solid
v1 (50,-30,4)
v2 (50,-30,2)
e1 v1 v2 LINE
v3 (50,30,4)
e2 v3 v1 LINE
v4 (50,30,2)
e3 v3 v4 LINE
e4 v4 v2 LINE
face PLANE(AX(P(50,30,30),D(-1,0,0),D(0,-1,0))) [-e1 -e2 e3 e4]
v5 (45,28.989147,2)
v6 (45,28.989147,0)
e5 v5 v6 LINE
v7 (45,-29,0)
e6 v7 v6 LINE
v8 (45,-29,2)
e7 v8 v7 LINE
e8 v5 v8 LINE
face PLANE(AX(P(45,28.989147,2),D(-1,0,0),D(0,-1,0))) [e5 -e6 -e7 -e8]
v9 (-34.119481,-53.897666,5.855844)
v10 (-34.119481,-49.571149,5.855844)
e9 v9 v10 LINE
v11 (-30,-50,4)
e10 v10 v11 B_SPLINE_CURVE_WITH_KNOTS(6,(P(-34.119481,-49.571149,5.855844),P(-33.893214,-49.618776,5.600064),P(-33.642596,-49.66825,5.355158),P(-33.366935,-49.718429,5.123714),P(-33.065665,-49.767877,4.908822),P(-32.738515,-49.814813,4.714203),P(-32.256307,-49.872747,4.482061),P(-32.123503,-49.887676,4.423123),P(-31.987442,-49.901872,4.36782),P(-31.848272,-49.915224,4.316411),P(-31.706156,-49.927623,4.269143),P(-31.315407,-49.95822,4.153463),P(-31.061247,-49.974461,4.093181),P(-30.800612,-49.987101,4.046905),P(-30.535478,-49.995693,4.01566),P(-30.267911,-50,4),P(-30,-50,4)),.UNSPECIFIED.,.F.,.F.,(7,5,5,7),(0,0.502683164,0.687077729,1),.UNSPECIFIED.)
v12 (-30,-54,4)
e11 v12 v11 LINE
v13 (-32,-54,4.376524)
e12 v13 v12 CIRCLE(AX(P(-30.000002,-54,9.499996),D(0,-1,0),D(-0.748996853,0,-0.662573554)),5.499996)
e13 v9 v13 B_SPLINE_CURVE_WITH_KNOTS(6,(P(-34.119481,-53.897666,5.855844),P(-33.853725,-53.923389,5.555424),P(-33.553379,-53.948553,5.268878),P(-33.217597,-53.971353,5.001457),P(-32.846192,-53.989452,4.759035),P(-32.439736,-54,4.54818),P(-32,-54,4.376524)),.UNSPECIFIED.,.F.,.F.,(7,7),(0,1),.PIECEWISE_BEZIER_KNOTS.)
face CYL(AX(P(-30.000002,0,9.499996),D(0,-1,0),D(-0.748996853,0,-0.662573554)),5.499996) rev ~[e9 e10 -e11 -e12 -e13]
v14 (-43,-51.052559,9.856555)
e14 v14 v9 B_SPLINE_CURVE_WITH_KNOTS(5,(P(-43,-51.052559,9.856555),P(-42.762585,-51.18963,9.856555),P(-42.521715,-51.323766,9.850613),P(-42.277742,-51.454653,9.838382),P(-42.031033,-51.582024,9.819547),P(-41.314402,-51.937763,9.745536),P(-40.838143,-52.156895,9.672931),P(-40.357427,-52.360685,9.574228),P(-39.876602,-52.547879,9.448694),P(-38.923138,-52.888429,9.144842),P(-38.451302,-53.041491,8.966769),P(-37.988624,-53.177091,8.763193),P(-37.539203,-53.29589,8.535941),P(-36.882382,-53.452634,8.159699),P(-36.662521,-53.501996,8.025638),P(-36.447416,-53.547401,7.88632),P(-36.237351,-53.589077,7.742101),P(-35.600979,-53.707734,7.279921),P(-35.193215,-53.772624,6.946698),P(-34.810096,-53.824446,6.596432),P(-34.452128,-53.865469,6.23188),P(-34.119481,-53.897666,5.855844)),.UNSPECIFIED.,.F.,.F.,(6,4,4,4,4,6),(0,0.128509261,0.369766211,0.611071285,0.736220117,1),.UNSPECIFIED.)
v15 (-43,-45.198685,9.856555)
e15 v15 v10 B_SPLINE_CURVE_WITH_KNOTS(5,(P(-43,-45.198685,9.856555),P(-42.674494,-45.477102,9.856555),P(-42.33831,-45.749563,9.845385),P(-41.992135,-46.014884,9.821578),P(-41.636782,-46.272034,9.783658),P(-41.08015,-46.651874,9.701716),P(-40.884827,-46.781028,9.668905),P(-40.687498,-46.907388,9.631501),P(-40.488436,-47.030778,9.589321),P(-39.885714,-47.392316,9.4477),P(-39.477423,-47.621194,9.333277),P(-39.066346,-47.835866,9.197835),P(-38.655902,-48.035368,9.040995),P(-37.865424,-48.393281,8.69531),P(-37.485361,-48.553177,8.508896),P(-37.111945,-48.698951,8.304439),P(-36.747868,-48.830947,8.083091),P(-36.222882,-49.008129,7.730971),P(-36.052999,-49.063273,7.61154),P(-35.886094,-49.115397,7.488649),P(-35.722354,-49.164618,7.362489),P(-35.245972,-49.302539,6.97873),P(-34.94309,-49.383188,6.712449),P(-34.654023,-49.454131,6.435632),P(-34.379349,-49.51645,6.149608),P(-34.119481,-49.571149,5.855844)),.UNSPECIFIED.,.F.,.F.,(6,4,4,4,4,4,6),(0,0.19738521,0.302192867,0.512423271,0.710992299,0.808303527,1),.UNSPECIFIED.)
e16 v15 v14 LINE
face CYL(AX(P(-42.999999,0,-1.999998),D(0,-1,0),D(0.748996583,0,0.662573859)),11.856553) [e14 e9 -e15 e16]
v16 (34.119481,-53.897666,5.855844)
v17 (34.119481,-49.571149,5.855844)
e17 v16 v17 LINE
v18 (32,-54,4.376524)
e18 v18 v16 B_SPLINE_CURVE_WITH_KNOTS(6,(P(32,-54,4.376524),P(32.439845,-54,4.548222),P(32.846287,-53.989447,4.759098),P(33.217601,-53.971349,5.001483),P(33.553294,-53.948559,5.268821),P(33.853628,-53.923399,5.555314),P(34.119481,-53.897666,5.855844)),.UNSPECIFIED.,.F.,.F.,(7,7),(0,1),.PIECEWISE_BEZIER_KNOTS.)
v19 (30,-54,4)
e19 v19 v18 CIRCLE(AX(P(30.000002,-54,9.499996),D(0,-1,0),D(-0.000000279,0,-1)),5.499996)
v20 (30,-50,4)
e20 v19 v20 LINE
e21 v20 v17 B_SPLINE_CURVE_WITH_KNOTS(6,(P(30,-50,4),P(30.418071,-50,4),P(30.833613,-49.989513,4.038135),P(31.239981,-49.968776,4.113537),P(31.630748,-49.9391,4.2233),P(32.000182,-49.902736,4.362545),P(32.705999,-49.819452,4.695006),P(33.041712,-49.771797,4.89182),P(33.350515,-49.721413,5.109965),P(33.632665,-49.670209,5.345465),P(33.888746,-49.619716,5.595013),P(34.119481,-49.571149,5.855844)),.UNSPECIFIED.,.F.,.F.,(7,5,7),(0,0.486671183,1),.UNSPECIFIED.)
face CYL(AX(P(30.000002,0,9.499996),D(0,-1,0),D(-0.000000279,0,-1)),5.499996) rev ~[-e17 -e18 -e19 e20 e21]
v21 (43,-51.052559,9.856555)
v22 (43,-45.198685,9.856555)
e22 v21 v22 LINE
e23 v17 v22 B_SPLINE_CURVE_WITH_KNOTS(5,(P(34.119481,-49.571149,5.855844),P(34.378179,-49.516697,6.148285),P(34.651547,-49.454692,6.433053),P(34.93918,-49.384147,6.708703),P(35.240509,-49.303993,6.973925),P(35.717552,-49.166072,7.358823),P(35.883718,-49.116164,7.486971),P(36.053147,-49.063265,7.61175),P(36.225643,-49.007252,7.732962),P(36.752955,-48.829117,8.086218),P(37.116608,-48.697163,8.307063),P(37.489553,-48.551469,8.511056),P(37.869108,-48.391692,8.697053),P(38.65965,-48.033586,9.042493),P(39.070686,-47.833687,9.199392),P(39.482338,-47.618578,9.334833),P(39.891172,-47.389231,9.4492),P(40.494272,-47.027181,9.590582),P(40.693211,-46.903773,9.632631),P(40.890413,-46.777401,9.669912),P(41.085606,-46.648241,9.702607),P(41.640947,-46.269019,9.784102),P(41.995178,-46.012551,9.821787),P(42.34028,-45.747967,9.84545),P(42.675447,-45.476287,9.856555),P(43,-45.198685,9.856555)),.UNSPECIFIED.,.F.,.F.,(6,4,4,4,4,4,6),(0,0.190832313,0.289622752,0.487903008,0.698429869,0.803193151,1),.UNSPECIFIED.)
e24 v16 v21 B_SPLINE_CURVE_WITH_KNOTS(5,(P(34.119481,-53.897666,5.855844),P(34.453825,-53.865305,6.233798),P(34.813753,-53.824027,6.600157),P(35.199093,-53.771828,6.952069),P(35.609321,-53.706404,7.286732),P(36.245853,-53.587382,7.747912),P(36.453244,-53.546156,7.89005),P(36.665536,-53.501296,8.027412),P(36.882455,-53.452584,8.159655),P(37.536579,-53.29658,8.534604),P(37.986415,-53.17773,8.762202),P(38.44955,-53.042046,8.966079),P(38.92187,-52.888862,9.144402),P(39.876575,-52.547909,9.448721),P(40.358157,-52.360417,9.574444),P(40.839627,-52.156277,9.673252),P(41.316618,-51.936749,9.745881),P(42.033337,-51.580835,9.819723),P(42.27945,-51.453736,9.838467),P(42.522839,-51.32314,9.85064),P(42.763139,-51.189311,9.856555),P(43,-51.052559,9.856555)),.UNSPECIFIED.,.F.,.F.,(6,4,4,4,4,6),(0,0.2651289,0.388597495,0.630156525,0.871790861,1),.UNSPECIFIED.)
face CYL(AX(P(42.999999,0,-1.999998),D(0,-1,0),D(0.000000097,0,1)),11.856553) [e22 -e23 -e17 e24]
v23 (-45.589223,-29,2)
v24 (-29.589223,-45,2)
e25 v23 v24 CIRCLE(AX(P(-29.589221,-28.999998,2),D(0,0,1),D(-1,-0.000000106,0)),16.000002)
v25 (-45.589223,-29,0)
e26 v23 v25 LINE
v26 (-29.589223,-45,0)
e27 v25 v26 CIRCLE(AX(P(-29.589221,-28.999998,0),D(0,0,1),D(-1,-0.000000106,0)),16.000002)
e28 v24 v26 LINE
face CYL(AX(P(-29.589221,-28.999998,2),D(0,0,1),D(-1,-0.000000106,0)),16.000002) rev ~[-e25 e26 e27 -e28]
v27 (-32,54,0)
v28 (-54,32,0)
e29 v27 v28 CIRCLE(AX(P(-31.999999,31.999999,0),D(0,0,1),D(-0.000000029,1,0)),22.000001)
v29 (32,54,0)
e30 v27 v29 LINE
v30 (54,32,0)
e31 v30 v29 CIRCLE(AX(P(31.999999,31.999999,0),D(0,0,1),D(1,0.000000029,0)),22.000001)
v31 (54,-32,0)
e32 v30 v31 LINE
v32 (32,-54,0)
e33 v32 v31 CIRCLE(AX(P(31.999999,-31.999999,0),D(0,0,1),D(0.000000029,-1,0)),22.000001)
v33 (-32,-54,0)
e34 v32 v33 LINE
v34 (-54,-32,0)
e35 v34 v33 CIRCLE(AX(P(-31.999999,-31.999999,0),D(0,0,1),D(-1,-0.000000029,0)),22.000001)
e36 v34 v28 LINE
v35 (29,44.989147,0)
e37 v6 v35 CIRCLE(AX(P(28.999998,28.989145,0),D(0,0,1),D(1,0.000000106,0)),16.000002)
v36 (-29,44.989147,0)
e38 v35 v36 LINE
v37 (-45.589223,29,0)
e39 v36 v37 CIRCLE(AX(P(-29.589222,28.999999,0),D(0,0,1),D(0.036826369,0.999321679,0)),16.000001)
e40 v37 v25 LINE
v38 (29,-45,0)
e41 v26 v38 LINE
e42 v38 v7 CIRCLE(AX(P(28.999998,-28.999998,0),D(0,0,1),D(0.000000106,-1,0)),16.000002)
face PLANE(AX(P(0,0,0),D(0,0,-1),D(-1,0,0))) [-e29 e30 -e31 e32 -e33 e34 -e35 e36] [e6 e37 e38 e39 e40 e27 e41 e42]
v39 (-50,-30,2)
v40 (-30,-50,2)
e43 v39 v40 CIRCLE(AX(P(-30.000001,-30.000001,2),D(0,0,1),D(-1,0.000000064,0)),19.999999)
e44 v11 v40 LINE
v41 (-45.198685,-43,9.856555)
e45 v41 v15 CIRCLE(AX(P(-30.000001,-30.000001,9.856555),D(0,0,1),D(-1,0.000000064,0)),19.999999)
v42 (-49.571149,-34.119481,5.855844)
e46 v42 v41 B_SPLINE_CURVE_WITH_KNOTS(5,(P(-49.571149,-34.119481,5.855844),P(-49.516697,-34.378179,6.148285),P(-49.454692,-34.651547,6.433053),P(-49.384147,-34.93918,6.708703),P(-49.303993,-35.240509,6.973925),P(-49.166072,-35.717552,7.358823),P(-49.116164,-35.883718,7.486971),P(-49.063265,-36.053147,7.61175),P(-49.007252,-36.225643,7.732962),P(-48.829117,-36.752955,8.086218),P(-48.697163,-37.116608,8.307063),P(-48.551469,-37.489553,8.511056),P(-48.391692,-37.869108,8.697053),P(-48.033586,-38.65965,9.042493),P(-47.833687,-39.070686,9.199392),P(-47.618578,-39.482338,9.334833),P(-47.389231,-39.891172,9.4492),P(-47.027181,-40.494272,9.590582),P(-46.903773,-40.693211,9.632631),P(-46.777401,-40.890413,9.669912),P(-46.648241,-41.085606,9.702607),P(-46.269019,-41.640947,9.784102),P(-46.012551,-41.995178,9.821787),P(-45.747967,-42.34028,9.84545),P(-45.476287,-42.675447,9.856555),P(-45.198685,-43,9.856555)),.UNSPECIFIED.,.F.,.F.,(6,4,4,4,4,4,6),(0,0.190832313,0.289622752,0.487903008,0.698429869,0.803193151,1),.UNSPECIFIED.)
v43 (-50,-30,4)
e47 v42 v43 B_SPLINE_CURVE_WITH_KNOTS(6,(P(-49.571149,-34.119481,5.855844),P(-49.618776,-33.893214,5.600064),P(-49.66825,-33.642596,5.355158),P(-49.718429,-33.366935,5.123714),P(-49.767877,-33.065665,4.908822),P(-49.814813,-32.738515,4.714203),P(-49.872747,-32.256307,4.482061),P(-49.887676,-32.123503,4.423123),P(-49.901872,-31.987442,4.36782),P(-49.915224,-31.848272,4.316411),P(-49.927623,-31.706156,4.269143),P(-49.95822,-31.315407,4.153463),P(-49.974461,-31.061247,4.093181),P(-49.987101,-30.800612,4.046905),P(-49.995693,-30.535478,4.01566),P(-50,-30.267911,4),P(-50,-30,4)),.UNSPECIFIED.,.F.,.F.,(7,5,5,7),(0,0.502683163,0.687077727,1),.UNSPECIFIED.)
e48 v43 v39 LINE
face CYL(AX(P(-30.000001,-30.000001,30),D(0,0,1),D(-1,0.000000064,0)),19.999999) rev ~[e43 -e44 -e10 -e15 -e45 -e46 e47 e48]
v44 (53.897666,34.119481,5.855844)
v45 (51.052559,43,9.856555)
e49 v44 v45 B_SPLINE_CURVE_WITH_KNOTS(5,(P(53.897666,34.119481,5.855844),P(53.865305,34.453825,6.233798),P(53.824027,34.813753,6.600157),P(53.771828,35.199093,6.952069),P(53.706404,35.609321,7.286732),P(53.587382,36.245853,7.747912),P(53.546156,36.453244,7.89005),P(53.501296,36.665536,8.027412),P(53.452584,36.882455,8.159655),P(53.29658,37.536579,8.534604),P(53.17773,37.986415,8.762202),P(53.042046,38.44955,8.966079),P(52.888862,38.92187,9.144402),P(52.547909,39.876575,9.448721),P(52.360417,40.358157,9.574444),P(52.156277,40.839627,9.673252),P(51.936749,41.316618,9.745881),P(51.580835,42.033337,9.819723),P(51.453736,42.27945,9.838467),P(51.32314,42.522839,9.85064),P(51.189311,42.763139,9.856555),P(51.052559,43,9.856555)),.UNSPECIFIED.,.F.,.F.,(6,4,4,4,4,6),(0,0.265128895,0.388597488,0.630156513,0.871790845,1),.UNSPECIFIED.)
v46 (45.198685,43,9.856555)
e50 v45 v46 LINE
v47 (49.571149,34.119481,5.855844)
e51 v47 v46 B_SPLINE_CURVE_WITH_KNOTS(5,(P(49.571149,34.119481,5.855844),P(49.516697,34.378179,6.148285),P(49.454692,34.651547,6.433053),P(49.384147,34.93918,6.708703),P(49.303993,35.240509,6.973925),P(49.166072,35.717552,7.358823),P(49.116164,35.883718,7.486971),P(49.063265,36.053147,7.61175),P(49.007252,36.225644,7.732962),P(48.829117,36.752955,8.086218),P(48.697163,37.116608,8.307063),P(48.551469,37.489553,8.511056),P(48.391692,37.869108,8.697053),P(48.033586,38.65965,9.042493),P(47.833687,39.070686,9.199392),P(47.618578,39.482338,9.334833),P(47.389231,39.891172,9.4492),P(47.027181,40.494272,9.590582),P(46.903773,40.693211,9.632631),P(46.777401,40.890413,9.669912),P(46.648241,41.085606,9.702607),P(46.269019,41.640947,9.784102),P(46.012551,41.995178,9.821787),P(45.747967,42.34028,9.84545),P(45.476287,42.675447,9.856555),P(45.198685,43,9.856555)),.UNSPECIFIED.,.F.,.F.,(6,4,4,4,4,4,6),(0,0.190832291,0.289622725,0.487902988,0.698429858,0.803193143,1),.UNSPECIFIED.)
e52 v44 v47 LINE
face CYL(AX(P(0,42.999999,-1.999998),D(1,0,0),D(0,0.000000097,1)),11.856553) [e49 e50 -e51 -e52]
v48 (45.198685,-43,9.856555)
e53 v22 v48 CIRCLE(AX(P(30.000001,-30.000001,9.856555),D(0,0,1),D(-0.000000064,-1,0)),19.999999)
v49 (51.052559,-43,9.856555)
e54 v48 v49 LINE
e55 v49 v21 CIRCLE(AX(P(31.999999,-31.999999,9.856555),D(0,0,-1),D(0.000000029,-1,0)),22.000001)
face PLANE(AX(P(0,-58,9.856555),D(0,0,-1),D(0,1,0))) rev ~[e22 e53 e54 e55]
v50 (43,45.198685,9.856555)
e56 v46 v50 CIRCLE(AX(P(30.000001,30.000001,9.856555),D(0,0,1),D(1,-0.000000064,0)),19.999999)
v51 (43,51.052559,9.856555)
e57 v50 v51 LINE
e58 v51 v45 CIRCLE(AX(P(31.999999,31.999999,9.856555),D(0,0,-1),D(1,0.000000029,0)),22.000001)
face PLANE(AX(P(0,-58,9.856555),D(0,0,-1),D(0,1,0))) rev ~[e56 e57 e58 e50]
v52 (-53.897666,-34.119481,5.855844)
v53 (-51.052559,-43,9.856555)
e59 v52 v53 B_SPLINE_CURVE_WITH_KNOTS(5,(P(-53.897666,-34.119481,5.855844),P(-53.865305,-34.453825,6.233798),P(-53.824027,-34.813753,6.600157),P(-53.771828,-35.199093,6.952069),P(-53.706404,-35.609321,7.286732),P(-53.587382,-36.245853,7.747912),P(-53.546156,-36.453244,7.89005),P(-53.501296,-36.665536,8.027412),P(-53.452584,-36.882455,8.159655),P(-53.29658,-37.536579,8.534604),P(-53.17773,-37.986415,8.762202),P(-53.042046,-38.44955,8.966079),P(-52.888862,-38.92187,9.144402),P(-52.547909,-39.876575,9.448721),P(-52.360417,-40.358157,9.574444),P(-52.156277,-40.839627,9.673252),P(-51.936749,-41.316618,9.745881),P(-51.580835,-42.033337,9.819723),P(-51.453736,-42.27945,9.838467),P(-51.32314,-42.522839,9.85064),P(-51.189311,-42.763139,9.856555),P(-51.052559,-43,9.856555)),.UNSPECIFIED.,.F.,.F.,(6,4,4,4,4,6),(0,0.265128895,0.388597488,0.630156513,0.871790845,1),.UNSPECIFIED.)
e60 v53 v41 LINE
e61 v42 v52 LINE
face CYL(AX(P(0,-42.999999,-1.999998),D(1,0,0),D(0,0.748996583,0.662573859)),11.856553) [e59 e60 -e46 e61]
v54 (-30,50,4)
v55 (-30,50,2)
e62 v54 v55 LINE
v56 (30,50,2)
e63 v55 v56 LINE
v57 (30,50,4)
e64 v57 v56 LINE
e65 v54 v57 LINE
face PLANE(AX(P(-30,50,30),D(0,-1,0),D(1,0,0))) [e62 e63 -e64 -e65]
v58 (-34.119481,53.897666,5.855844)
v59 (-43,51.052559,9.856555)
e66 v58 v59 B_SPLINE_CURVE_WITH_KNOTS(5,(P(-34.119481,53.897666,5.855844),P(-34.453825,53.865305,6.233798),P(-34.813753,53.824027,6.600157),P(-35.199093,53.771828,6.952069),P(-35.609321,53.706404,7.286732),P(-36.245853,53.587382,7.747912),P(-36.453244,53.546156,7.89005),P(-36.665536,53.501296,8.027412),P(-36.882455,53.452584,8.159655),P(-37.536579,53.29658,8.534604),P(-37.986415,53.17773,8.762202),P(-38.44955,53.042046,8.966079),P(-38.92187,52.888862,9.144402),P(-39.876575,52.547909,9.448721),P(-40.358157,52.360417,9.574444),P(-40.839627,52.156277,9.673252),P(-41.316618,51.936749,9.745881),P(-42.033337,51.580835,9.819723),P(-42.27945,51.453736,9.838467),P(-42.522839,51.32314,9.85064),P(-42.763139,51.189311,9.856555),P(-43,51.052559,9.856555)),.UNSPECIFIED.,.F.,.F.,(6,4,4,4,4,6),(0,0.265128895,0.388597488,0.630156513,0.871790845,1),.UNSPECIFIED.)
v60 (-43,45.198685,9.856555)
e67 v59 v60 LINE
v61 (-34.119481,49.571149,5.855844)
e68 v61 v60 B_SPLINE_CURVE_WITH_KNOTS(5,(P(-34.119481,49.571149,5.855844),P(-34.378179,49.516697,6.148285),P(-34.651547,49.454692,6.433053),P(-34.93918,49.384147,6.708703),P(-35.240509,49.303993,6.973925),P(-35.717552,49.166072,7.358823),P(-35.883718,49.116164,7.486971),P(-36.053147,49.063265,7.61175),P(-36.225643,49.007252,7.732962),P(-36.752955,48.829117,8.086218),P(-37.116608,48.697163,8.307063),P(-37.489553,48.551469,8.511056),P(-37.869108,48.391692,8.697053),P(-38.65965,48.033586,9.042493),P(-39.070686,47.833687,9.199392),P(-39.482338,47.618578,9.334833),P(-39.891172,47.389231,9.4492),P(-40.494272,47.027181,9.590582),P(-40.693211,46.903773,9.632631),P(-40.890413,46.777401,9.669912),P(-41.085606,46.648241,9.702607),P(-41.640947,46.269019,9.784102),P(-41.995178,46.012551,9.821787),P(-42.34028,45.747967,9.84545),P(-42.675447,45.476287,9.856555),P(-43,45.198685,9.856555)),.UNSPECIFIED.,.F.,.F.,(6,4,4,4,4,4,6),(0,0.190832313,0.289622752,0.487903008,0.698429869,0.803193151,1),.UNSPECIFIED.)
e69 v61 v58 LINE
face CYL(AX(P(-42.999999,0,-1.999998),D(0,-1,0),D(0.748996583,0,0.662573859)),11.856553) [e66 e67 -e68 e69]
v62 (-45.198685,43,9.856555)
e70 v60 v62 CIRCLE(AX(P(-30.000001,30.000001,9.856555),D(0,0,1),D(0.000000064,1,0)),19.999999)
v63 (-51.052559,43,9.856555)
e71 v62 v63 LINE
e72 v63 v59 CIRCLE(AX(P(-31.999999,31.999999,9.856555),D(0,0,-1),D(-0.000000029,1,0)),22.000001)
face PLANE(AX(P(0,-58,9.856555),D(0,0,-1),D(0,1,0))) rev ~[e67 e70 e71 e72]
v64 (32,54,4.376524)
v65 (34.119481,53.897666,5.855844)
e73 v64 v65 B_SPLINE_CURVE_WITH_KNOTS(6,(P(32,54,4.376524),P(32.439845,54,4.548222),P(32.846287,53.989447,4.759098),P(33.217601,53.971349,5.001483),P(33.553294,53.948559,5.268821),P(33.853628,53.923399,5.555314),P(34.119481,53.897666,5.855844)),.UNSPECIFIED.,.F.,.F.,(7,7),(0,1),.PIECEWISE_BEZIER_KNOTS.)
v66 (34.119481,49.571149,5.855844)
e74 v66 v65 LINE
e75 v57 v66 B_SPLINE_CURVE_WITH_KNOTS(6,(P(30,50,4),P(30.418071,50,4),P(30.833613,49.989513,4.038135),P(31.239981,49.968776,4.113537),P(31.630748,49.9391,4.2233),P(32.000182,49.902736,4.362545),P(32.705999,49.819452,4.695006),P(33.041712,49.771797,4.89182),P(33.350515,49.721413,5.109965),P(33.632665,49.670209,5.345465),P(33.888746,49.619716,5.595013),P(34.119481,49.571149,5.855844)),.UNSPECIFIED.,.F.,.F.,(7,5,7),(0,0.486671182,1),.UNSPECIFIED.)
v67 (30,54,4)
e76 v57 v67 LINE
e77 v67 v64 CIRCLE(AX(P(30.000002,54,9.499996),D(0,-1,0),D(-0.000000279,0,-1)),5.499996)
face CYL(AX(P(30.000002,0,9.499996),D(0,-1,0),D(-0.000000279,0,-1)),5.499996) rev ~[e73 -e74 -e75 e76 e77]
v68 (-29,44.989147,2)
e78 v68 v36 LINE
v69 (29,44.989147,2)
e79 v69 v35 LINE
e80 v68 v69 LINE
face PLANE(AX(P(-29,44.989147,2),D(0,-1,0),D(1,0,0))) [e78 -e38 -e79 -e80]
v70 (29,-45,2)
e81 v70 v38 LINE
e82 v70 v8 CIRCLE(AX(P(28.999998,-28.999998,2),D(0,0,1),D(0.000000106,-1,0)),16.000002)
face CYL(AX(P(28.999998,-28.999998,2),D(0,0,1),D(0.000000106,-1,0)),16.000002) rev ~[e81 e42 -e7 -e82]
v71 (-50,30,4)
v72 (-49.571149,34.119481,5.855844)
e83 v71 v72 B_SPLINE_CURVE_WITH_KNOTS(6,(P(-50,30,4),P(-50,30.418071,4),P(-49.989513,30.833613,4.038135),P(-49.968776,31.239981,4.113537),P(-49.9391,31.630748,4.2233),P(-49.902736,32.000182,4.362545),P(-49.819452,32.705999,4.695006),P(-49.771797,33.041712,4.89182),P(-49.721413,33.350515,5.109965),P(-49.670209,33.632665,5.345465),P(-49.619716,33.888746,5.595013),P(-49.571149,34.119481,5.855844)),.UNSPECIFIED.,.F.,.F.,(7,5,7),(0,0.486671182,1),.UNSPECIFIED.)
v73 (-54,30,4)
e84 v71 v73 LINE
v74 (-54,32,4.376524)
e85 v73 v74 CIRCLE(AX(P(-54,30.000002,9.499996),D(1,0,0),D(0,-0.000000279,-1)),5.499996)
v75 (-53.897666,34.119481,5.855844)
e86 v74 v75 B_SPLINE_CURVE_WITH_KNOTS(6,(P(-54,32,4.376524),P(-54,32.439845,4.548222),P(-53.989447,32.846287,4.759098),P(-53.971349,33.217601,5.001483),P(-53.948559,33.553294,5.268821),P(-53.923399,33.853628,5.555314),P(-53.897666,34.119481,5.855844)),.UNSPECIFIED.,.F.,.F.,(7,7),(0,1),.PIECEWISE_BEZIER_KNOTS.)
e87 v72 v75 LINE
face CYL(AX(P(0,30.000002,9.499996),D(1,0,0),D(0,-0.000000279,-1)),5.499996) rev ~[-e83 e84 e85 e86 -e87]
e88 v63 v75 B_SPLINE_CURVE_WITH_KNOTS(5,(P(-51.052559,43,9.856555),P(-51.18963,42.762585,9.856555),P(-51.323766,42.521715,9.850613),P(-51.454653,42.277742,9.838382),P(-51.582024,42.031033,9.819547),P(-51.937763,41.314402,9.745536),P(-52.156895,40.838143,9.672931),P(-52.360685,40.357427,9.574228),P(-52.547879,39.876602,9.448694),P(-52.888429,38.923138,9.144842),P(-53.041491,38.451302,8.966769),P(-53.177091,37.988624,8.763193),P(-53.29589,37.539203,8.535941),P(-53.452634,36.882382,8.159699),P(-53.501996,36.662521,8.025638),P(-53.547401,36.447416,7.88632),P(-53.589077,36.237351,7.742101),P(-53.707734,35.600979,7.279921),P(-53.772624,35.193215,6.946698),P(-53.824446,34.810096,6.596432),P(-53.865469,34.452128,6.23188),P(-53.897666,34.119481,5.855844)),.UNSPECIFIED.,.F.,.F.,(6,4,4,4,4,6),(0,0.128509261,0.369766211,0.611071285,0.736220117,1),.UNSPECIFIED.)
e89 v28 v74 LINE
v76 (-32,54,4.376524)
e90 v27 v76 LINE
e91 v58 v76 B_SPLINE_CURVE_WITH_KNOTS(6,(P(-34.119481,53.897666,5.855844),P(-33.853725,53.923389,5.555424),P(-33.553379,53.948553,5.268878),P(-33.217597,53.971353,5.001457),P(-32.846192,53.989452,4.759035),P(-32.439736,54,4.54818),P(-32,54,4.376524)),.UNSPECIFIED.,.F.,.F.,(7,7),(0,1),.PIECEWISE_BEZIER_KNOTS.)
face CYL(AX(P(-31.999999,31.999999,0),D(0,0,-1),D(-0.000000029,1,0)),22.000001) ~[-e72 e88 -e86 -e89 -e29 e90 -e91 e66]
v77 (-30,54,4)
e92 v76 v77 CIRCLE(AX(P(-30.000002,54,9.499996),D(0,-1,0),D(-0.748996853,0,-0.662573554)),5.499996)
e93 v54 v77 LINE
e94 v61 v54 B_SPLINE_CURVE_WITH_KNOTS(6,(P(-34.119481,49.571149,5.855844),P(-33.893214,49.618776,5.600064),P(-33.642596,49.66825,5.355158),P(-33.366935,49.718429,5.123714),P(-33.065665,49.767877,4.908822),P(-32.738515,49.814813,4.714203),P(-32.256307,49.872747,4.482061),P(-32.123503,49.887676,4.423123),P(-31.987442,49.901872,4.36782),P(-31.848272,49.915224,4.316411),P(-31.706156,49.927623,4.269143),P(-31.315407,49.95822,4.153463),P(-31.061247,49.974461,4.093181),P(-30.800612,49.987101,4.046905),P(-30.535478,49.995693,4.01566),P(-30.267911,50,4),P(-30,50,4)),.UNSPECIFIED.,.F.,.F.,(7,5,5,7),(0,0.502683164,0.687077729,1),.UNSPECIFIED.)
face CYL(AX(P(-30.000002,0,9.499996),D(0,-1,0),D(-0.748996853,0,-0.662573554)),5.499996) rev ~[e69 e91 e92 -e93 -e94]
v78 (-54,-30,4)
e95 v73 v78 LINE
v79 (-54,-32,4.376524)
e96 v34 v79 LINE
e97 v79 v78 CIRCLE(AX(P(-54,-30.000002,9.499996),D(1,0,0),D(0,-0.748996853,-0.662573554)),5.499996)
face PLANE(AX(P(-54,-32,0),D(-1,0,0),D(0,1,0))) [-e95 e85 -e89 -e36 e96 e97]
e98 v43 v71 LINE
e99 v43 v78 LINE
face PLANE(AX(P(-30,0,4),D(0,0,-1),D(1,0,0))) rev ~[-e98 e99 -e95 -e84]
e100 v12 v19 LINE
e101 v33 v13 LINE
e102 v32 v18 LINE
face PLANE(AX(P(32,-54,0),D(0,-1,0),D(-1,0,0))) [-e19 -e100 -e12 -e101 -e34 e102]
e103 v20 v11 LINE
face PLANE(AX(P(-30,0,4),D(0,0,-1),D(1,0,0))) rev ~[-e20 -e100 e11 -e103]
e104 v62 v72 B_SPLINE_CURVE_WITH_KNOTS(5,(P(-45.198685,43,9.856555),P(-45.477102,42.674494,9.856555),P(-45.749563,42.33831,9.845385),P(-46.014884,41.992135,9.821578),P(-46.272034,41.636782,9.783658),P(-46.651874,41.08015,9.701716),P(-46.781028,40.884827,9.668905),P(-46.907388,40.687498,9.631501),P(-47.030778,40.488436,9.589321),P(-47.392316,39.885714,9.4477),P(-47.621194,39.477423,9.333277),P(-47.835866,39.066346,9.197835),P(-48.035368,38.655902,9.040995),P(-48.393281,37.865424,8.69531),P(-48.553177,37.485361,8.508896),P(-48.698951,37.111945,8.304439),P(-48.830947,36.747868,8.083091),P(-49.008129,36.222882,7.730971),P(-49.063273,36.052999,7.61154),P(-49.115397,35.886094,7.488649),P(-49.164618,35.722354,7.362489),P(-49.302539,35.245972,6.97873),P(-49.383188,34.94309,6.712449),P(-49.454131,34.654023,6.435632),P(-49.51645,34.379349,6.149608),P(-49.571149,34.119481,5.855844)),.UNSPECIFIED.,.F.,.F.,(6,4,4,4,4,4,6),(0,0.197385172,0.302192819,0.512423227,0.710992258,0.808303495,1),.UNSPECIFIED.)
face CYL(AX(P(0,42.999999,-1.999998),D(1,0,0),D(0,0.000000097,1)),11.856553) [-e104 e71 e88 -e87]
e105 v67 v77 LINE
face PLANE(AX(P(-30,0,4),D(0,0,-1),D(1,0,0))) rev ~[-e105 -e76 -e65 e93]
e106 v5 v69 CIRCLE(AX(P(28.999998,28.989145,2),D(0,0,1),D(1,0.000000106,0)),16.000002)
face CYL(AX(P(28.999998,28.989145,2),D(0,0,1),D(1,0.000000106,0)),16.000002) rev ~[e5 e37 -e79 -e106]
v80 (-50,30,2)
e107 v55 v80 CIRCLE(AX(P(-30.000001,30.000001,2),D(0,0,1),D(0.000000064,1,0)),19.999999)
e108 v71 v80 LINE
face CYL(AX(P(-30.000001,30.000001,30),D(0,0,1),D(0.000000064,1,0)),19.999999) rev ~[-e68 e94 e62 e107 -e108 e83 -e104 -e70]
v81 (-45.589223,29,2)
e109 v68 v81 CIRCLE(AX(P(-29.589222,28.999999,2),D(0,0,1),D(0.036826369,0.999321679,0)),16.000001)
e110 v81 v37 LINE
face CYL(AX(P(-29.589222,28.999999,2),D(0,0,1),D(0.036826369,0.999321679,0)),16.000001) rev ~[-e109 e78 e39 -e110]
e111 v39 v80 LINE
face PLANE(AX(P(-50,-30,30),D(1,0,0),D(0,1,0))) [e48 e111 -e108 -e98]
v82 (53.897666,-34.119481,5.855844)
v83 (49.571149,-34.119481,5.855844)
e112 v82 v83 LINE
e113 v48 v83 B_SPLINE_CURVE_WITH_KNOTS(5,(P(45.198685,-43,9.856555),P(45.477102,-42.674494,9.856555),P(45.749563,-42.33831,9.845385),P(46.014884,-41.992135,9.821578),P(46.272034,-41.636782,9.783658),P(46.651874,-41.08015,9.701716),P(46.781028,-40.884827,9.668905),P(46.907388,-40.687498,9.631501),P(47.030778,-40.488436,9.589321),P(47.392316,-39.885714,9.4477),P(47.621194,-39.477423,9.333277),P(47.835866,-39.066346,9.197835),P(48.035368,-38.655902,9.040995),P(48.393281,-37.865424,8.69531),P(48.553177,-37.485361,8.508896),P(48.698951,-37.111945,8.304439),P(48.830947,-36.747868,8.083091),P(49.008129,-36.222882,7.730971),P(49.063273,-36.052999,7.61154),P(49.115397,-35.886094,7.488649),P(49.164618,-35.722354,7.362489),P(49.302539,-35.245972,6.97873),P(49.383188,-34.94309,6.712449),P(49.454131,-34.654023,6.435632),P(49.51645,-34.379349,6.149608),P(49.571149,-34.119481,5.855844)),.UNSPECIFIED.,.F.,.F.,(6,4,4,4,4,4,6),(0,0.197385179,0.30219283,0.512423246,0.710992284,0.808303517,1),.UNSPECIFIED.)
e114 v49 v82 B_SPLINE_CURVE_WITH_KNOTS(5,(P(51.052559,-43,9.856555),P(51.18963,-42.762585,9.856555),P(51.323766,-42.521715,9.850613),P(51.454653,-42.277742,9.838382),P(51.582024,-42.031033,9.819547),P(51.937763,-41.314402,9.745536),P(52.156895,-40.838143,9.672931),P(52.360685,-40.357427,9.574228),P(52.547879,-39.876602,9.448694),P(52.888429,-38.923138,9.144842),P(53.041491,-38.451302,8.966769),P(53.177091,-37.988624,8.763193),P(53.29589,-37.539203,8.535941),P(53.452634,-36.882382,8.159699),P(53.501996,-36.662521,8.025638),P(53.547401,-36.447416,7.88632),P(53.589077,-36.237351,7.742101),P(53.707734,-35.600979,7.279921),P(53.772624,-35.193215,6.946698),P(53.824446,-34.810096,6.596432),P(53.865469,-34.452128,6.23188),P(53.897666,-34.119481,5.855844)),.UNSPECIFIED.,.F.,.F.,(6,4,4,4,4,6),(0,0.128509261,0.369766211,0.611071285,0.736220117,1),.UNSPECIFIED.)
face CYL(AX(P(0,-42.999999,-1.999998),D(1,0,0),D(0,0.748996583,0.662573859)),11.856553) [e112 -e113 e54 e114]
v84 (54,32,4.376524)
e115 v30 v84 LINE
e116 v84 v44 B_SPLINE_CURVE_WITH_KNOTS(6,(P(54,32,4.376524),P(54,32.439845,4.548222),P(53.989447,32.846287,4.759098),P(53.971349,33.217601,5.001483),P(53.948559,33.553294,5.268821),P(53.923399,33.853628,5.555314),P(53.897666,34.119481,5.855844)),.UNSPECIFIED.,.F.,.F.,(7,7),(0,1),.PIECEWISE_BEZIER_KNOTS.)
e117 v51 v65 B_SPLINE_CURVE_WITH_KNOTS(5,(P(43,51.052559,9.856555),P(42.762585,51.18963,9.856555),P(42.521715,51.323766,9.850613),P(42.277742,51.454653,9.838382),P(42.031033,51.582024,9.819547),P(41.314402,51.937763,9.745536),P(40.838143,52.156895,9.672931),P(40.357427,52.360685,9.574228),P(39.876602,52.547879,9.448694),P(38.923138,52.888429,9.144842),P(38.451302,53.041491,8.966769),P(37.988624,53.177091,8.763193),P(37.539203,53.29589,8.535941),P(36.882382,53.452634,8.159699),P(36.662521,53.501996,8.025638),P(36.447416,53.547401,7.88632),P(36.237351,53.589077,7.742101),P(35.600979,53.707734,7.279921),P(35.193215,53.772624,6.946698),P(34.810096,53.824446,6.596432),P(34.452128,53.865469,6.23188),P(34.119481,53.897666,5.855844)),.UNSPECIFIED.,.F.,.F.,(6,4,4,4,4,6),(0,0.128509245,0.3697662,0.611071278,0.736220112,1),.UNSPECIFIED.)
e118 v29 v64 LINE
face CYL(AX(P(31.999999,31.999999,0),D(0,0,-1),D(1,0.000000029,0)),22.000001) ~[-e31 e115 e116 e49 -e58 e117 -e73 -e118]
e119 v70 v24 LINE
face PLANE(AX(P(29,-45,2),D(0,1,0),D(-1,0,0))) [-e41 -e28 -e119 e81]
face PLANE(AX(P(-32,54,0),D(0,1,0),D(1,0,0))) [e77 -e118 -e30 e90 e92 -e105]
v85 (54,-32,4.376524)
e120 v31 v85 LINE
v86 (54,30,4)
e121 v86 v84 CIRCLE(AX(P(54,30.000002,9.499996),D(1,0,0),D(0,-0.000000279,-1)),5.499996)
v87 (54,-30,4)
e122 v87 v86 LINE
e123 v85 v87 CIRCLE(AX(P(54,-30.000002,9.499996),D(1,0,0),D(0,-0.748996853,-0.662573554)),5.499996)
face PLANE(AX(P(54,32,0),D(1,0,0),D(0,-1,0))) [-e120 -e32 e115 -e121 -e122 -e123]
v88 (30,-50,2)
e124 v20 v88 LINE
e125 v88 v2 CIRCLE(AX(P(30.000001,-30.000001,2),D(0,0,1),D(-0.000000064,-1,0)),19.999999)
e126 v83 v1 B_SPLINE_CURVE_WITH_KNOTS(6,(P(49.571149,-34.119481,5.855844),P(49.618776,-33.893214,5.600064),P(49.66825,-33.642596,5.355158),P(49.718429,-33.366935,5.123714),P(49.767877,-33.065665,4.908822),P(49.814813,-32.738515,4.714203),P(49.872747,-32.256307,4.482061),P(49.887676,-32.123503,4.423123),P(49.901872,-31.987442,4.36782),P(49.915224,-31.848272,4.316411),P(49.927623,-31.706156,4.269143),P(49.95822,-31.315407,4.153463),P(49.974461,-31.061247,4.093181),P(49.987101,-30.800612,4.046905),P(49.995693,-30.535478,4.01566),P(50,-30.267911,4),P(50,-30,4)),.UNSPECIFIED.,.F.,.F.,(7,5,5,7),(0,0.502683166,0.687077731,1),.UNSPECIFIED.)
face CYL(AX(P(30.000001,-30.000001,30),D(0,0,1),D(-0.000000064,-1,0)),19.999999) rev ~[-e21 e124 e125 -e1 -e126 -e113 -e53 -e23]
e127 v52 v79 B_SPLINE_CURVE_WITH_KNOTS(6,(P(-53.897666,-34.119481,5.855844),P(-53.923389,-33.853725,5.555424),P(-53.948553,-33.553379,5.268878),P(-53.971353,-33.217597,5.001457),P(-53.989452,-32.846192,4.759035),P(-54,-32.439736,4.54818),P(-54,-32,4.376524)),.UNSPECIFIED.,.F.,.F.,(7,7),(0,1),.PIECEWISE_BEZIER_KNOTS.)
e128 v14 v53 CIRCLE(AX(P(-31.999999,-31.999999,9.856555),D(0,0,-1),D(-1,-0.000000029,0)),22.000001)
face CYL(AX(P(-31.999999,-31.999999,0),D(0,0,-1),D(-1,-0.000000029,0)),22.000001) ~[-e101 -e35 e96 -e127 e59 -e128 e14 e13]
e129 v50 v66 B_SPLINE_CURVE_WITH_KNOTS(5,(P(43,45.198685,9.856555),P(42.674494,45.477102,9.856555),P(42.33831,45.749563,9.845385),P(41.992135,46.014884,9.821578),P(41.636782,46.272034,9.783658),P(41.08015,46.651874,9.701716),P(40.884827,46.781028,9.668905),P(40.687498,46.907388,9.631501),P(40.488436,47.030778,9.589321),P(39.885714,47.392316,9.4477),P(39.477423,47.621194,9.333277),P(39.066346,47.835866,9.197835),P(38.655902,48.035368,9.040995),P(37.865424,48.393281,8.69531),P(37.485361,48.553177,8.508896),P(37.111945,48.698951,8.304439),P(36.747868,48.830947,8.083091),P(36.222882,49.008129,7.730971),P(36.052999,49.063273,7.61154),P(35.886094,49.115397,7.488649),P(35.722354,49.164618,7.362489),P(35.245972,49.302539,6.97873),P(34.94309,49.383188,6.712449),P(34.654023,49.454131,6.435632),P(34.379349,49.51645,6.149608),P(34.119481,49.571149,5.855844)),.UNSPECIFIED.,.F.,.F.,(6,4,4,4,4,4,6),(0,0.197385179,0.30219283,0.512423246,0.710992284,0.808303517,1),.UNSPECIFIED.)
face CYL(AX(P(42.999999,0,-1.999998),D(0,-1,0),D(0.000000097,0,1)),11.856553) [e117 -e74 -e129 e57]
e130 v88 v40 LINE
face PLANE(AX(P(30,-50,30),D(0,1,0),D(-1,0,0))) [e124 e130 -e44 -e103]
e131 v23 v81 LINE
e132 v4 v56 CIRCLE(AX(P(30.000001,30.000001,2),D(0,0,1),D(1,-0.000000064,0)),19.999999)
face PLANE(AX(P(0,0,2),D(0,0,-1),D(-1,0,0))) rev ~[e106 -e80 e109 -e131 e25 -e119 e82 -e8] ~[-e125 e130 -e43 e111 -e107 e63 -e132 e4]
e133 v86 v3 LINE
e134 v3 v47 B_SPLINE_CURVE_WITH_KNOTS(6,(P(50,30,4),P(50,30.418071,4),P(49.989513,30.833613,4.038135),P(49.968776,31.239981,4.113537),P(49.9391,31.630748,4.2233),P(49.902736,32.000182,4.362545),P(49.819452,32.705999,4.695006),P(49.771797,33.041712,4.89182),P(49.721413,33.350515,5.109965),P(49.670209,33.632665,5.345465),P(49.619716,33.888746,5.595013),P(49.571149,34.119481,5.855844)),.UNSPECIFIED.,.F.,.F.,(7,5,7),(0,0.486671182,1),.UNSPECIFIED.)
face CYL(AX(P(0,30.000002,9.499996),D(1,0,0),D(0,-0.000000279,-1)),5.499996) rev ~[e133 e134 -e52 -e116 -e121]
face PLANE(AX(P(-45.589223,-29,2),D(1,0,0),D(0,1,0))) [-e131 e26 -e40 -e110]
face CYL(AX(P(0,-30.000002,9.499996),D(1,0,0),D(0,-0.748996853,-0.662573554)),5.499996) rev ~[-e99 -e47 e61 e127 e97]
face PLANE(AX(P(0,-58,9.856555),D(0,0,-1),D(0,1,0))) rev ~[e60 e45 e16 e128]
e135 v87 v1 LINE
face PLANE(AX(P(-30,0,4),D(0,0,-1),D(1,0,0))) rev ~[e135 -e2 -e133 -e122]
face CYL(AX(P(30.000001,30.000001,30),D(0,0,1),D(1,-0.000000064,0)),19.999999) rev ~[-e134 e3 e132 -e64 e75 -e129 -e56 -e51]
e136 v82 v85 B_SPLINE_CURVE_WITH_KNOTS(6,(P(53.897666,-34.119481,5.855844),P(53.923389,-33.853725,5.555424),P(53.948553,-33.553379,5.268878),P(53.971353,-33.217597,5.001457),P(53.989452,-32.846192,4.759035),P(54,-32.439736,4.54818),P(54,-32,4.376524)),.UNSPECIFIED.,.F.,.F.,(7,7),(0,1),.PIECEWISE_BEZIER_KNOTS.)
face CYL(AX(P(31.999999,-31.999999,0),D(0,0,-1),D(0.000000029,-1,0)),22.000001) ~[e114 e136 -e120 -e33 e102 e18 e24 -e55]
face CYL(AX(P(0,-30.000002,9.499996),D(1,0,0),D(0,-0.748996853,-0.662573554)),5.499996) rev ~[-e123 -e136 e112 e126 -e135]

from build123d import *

# Parameters (mm, degrees)
PAD002_DEPTH            = 56.5
BODY002_PLACEMENT_ANGLE = 90
PAD001_DEPTH            = 56.5
PAD_DEPTH               = 30
POCKET_DEPTH            = 28
POCKET001_DEPTH         = 2.001


with BuildPart() as corte_x:
    # Sketch004 → Pad002 (new body, symmetric)
    with BuildSketch(Plane.XZ):
        with BuildLine():
            Line((-58, 39.856555), (58, 39.856555))
            Line((58, 39.856555), (58, 9.856555))
            Line((58, 9.856555), (43, 9.856555))
            ThreePointArc((43, 9.856555), (38.129956, 8.810207), (34.119481, 5.855844))
            ThreePointArc((30, 4), (32.259108, 4.485378), (34.119481, 5.855844))
            Line((-30, 4), (30, 4))
            ThreePointArc((-34.119481, 5.855844), (-32.259108, 4.485378), (-30, 4))
            ThreePointArc((-34.119481, 5.855844), (-38.129956, 8.810207), (-43, 9.856555))
            Line((-58, 9.856555), (-43, 9.856555))
            Line((-58, 39.856555), (-58, 9.856555))
        make_face()
    extrude(amount=PAD002_DEPTH, both=True)


with BuildPart() as corte_x_1:
    # Body002 placement: moved
    add(corte_x.part.rotate(Axis((0, 0, 0), (0, 0, 1)), BODY002_PLACEMENT_ANGLE))


with BuildPart() as fusion:
    # Sketch003 → Pad001 (new body, symmetric)
    with BuildSketch(Plane.XZ):
        with BuildLine():
            Line((-58, 39.856555), (58, 39.856555))
            Line((58, 39.856555), (58, 9.856555))
            Line((58, 9.856555), (43, 9.856555))
            ThreePointArc((43, 9.856555), (38.129956, 8.810207), (34.119481, 5.855844))
            ThreePointArc((30, 4), (32.259108, 4.485378), (34.119481, 5.855844))
            Line((-30, 4), (30, 4))
            ThreePointArc((-34.119481, 5.855844), (-32.259108, 4.485378), (-30, 4))
            ThreePointArc((-34.119481, 5.855844), (-38.129956, 8.810207), (-43, 9.856555))
            Line((-58, 9.856555), (-43, 9.856555))
            Line((-58, 39.856555), (-58, 9.856555))
        make_face()
    extrude(amount=PAD001_DEPTH, both=True)

    # Fusion: union Corte X
    add(corte_x_1.part)


with BuildPart() as cut:
    # Sketch → Pad (new body)
    with BuildSketch(Plane.XY):
        with BuildLine():
            Line((-32, 54), (32, 54))
            ThreePointArc((54, 32), (47.556349, 47.556349), (32, 54))
            Line((54, 32), (54, -32))
            ThreePointArc((32, -54), (47.556349, -47.556349), (54, -32))
            Line((32, -54), (-32, -54))
            ThreePointArc((-54, -32), (-47.556349, -47.556349), (-32, -54))
            Line((-54, -32), (-54, 32))
            ThreePointArc((-32, 54), (-47.556349, 47.556349), (-54, 32))
        make_face()
    extrude(amount=PAD_DEPTH)

    # Sketch001 (on Face10 of Pad) → Pocket (cut)
    with BuildSketch(Plane.XY.offset(30)):
        with BuildLine():
            Line((-30, 50), (30, 50))
            ThreePointArc((50, 30), (44.142136, 44.142136), (30, 50))
            Line((50, 30), (50, -30))
            ThreePointArc((30, -50), (44.142136, -44.142136), (50, -30))
            Line((30, -50), (-30, -50))
            ThreePointArc((-50, -30), (-44.142136, -44.142136), (-30, -50))
            Line((-50, -30), (-50, 30))
            ThreePointArc((-30, 50), (-44.142136, 44.142136), (-50, 30))
        make_face()
    extrude(amount=-POCKET_DEPTH, mode=Mode.SUBTRACT)

    # Sketch002 (on Face19 of Pocket) → Pocket001 (cut, through all)
    with BuildSketch(Plane.XY.offset(2)):
        with BuildLine():
            Line((-29, 44.989147), (29, 44.989147))
            ThreePointArc((45, 28.989147), (40.313708, 40.302855), (29, 44.989147))
            Line((45, 28.989147), (45, -29))
            ThreePointArc((29, -45), (40.313708, -40.313708), (45, -29))
            Line((29, -45), (-29.589223, -45))
            ThreePointArc((-45.589223, -29), (-40.902931, -40.313708), (-29.589223, -45))
            Line((-45.589223, -29), (-45.589223, 29))
            ThreePointArc((-29, 44.989147), (-40.692655, 40.520147), (-45.589223, 29))
        make_face()
    extrude(amount=-POCKET001_DEPTH, mode=Mode.SUBTRACT)

    # Cut: cut Fusion
    add(fusion.part, mode=Mode.SUBTRACT)


solid = cut.part
